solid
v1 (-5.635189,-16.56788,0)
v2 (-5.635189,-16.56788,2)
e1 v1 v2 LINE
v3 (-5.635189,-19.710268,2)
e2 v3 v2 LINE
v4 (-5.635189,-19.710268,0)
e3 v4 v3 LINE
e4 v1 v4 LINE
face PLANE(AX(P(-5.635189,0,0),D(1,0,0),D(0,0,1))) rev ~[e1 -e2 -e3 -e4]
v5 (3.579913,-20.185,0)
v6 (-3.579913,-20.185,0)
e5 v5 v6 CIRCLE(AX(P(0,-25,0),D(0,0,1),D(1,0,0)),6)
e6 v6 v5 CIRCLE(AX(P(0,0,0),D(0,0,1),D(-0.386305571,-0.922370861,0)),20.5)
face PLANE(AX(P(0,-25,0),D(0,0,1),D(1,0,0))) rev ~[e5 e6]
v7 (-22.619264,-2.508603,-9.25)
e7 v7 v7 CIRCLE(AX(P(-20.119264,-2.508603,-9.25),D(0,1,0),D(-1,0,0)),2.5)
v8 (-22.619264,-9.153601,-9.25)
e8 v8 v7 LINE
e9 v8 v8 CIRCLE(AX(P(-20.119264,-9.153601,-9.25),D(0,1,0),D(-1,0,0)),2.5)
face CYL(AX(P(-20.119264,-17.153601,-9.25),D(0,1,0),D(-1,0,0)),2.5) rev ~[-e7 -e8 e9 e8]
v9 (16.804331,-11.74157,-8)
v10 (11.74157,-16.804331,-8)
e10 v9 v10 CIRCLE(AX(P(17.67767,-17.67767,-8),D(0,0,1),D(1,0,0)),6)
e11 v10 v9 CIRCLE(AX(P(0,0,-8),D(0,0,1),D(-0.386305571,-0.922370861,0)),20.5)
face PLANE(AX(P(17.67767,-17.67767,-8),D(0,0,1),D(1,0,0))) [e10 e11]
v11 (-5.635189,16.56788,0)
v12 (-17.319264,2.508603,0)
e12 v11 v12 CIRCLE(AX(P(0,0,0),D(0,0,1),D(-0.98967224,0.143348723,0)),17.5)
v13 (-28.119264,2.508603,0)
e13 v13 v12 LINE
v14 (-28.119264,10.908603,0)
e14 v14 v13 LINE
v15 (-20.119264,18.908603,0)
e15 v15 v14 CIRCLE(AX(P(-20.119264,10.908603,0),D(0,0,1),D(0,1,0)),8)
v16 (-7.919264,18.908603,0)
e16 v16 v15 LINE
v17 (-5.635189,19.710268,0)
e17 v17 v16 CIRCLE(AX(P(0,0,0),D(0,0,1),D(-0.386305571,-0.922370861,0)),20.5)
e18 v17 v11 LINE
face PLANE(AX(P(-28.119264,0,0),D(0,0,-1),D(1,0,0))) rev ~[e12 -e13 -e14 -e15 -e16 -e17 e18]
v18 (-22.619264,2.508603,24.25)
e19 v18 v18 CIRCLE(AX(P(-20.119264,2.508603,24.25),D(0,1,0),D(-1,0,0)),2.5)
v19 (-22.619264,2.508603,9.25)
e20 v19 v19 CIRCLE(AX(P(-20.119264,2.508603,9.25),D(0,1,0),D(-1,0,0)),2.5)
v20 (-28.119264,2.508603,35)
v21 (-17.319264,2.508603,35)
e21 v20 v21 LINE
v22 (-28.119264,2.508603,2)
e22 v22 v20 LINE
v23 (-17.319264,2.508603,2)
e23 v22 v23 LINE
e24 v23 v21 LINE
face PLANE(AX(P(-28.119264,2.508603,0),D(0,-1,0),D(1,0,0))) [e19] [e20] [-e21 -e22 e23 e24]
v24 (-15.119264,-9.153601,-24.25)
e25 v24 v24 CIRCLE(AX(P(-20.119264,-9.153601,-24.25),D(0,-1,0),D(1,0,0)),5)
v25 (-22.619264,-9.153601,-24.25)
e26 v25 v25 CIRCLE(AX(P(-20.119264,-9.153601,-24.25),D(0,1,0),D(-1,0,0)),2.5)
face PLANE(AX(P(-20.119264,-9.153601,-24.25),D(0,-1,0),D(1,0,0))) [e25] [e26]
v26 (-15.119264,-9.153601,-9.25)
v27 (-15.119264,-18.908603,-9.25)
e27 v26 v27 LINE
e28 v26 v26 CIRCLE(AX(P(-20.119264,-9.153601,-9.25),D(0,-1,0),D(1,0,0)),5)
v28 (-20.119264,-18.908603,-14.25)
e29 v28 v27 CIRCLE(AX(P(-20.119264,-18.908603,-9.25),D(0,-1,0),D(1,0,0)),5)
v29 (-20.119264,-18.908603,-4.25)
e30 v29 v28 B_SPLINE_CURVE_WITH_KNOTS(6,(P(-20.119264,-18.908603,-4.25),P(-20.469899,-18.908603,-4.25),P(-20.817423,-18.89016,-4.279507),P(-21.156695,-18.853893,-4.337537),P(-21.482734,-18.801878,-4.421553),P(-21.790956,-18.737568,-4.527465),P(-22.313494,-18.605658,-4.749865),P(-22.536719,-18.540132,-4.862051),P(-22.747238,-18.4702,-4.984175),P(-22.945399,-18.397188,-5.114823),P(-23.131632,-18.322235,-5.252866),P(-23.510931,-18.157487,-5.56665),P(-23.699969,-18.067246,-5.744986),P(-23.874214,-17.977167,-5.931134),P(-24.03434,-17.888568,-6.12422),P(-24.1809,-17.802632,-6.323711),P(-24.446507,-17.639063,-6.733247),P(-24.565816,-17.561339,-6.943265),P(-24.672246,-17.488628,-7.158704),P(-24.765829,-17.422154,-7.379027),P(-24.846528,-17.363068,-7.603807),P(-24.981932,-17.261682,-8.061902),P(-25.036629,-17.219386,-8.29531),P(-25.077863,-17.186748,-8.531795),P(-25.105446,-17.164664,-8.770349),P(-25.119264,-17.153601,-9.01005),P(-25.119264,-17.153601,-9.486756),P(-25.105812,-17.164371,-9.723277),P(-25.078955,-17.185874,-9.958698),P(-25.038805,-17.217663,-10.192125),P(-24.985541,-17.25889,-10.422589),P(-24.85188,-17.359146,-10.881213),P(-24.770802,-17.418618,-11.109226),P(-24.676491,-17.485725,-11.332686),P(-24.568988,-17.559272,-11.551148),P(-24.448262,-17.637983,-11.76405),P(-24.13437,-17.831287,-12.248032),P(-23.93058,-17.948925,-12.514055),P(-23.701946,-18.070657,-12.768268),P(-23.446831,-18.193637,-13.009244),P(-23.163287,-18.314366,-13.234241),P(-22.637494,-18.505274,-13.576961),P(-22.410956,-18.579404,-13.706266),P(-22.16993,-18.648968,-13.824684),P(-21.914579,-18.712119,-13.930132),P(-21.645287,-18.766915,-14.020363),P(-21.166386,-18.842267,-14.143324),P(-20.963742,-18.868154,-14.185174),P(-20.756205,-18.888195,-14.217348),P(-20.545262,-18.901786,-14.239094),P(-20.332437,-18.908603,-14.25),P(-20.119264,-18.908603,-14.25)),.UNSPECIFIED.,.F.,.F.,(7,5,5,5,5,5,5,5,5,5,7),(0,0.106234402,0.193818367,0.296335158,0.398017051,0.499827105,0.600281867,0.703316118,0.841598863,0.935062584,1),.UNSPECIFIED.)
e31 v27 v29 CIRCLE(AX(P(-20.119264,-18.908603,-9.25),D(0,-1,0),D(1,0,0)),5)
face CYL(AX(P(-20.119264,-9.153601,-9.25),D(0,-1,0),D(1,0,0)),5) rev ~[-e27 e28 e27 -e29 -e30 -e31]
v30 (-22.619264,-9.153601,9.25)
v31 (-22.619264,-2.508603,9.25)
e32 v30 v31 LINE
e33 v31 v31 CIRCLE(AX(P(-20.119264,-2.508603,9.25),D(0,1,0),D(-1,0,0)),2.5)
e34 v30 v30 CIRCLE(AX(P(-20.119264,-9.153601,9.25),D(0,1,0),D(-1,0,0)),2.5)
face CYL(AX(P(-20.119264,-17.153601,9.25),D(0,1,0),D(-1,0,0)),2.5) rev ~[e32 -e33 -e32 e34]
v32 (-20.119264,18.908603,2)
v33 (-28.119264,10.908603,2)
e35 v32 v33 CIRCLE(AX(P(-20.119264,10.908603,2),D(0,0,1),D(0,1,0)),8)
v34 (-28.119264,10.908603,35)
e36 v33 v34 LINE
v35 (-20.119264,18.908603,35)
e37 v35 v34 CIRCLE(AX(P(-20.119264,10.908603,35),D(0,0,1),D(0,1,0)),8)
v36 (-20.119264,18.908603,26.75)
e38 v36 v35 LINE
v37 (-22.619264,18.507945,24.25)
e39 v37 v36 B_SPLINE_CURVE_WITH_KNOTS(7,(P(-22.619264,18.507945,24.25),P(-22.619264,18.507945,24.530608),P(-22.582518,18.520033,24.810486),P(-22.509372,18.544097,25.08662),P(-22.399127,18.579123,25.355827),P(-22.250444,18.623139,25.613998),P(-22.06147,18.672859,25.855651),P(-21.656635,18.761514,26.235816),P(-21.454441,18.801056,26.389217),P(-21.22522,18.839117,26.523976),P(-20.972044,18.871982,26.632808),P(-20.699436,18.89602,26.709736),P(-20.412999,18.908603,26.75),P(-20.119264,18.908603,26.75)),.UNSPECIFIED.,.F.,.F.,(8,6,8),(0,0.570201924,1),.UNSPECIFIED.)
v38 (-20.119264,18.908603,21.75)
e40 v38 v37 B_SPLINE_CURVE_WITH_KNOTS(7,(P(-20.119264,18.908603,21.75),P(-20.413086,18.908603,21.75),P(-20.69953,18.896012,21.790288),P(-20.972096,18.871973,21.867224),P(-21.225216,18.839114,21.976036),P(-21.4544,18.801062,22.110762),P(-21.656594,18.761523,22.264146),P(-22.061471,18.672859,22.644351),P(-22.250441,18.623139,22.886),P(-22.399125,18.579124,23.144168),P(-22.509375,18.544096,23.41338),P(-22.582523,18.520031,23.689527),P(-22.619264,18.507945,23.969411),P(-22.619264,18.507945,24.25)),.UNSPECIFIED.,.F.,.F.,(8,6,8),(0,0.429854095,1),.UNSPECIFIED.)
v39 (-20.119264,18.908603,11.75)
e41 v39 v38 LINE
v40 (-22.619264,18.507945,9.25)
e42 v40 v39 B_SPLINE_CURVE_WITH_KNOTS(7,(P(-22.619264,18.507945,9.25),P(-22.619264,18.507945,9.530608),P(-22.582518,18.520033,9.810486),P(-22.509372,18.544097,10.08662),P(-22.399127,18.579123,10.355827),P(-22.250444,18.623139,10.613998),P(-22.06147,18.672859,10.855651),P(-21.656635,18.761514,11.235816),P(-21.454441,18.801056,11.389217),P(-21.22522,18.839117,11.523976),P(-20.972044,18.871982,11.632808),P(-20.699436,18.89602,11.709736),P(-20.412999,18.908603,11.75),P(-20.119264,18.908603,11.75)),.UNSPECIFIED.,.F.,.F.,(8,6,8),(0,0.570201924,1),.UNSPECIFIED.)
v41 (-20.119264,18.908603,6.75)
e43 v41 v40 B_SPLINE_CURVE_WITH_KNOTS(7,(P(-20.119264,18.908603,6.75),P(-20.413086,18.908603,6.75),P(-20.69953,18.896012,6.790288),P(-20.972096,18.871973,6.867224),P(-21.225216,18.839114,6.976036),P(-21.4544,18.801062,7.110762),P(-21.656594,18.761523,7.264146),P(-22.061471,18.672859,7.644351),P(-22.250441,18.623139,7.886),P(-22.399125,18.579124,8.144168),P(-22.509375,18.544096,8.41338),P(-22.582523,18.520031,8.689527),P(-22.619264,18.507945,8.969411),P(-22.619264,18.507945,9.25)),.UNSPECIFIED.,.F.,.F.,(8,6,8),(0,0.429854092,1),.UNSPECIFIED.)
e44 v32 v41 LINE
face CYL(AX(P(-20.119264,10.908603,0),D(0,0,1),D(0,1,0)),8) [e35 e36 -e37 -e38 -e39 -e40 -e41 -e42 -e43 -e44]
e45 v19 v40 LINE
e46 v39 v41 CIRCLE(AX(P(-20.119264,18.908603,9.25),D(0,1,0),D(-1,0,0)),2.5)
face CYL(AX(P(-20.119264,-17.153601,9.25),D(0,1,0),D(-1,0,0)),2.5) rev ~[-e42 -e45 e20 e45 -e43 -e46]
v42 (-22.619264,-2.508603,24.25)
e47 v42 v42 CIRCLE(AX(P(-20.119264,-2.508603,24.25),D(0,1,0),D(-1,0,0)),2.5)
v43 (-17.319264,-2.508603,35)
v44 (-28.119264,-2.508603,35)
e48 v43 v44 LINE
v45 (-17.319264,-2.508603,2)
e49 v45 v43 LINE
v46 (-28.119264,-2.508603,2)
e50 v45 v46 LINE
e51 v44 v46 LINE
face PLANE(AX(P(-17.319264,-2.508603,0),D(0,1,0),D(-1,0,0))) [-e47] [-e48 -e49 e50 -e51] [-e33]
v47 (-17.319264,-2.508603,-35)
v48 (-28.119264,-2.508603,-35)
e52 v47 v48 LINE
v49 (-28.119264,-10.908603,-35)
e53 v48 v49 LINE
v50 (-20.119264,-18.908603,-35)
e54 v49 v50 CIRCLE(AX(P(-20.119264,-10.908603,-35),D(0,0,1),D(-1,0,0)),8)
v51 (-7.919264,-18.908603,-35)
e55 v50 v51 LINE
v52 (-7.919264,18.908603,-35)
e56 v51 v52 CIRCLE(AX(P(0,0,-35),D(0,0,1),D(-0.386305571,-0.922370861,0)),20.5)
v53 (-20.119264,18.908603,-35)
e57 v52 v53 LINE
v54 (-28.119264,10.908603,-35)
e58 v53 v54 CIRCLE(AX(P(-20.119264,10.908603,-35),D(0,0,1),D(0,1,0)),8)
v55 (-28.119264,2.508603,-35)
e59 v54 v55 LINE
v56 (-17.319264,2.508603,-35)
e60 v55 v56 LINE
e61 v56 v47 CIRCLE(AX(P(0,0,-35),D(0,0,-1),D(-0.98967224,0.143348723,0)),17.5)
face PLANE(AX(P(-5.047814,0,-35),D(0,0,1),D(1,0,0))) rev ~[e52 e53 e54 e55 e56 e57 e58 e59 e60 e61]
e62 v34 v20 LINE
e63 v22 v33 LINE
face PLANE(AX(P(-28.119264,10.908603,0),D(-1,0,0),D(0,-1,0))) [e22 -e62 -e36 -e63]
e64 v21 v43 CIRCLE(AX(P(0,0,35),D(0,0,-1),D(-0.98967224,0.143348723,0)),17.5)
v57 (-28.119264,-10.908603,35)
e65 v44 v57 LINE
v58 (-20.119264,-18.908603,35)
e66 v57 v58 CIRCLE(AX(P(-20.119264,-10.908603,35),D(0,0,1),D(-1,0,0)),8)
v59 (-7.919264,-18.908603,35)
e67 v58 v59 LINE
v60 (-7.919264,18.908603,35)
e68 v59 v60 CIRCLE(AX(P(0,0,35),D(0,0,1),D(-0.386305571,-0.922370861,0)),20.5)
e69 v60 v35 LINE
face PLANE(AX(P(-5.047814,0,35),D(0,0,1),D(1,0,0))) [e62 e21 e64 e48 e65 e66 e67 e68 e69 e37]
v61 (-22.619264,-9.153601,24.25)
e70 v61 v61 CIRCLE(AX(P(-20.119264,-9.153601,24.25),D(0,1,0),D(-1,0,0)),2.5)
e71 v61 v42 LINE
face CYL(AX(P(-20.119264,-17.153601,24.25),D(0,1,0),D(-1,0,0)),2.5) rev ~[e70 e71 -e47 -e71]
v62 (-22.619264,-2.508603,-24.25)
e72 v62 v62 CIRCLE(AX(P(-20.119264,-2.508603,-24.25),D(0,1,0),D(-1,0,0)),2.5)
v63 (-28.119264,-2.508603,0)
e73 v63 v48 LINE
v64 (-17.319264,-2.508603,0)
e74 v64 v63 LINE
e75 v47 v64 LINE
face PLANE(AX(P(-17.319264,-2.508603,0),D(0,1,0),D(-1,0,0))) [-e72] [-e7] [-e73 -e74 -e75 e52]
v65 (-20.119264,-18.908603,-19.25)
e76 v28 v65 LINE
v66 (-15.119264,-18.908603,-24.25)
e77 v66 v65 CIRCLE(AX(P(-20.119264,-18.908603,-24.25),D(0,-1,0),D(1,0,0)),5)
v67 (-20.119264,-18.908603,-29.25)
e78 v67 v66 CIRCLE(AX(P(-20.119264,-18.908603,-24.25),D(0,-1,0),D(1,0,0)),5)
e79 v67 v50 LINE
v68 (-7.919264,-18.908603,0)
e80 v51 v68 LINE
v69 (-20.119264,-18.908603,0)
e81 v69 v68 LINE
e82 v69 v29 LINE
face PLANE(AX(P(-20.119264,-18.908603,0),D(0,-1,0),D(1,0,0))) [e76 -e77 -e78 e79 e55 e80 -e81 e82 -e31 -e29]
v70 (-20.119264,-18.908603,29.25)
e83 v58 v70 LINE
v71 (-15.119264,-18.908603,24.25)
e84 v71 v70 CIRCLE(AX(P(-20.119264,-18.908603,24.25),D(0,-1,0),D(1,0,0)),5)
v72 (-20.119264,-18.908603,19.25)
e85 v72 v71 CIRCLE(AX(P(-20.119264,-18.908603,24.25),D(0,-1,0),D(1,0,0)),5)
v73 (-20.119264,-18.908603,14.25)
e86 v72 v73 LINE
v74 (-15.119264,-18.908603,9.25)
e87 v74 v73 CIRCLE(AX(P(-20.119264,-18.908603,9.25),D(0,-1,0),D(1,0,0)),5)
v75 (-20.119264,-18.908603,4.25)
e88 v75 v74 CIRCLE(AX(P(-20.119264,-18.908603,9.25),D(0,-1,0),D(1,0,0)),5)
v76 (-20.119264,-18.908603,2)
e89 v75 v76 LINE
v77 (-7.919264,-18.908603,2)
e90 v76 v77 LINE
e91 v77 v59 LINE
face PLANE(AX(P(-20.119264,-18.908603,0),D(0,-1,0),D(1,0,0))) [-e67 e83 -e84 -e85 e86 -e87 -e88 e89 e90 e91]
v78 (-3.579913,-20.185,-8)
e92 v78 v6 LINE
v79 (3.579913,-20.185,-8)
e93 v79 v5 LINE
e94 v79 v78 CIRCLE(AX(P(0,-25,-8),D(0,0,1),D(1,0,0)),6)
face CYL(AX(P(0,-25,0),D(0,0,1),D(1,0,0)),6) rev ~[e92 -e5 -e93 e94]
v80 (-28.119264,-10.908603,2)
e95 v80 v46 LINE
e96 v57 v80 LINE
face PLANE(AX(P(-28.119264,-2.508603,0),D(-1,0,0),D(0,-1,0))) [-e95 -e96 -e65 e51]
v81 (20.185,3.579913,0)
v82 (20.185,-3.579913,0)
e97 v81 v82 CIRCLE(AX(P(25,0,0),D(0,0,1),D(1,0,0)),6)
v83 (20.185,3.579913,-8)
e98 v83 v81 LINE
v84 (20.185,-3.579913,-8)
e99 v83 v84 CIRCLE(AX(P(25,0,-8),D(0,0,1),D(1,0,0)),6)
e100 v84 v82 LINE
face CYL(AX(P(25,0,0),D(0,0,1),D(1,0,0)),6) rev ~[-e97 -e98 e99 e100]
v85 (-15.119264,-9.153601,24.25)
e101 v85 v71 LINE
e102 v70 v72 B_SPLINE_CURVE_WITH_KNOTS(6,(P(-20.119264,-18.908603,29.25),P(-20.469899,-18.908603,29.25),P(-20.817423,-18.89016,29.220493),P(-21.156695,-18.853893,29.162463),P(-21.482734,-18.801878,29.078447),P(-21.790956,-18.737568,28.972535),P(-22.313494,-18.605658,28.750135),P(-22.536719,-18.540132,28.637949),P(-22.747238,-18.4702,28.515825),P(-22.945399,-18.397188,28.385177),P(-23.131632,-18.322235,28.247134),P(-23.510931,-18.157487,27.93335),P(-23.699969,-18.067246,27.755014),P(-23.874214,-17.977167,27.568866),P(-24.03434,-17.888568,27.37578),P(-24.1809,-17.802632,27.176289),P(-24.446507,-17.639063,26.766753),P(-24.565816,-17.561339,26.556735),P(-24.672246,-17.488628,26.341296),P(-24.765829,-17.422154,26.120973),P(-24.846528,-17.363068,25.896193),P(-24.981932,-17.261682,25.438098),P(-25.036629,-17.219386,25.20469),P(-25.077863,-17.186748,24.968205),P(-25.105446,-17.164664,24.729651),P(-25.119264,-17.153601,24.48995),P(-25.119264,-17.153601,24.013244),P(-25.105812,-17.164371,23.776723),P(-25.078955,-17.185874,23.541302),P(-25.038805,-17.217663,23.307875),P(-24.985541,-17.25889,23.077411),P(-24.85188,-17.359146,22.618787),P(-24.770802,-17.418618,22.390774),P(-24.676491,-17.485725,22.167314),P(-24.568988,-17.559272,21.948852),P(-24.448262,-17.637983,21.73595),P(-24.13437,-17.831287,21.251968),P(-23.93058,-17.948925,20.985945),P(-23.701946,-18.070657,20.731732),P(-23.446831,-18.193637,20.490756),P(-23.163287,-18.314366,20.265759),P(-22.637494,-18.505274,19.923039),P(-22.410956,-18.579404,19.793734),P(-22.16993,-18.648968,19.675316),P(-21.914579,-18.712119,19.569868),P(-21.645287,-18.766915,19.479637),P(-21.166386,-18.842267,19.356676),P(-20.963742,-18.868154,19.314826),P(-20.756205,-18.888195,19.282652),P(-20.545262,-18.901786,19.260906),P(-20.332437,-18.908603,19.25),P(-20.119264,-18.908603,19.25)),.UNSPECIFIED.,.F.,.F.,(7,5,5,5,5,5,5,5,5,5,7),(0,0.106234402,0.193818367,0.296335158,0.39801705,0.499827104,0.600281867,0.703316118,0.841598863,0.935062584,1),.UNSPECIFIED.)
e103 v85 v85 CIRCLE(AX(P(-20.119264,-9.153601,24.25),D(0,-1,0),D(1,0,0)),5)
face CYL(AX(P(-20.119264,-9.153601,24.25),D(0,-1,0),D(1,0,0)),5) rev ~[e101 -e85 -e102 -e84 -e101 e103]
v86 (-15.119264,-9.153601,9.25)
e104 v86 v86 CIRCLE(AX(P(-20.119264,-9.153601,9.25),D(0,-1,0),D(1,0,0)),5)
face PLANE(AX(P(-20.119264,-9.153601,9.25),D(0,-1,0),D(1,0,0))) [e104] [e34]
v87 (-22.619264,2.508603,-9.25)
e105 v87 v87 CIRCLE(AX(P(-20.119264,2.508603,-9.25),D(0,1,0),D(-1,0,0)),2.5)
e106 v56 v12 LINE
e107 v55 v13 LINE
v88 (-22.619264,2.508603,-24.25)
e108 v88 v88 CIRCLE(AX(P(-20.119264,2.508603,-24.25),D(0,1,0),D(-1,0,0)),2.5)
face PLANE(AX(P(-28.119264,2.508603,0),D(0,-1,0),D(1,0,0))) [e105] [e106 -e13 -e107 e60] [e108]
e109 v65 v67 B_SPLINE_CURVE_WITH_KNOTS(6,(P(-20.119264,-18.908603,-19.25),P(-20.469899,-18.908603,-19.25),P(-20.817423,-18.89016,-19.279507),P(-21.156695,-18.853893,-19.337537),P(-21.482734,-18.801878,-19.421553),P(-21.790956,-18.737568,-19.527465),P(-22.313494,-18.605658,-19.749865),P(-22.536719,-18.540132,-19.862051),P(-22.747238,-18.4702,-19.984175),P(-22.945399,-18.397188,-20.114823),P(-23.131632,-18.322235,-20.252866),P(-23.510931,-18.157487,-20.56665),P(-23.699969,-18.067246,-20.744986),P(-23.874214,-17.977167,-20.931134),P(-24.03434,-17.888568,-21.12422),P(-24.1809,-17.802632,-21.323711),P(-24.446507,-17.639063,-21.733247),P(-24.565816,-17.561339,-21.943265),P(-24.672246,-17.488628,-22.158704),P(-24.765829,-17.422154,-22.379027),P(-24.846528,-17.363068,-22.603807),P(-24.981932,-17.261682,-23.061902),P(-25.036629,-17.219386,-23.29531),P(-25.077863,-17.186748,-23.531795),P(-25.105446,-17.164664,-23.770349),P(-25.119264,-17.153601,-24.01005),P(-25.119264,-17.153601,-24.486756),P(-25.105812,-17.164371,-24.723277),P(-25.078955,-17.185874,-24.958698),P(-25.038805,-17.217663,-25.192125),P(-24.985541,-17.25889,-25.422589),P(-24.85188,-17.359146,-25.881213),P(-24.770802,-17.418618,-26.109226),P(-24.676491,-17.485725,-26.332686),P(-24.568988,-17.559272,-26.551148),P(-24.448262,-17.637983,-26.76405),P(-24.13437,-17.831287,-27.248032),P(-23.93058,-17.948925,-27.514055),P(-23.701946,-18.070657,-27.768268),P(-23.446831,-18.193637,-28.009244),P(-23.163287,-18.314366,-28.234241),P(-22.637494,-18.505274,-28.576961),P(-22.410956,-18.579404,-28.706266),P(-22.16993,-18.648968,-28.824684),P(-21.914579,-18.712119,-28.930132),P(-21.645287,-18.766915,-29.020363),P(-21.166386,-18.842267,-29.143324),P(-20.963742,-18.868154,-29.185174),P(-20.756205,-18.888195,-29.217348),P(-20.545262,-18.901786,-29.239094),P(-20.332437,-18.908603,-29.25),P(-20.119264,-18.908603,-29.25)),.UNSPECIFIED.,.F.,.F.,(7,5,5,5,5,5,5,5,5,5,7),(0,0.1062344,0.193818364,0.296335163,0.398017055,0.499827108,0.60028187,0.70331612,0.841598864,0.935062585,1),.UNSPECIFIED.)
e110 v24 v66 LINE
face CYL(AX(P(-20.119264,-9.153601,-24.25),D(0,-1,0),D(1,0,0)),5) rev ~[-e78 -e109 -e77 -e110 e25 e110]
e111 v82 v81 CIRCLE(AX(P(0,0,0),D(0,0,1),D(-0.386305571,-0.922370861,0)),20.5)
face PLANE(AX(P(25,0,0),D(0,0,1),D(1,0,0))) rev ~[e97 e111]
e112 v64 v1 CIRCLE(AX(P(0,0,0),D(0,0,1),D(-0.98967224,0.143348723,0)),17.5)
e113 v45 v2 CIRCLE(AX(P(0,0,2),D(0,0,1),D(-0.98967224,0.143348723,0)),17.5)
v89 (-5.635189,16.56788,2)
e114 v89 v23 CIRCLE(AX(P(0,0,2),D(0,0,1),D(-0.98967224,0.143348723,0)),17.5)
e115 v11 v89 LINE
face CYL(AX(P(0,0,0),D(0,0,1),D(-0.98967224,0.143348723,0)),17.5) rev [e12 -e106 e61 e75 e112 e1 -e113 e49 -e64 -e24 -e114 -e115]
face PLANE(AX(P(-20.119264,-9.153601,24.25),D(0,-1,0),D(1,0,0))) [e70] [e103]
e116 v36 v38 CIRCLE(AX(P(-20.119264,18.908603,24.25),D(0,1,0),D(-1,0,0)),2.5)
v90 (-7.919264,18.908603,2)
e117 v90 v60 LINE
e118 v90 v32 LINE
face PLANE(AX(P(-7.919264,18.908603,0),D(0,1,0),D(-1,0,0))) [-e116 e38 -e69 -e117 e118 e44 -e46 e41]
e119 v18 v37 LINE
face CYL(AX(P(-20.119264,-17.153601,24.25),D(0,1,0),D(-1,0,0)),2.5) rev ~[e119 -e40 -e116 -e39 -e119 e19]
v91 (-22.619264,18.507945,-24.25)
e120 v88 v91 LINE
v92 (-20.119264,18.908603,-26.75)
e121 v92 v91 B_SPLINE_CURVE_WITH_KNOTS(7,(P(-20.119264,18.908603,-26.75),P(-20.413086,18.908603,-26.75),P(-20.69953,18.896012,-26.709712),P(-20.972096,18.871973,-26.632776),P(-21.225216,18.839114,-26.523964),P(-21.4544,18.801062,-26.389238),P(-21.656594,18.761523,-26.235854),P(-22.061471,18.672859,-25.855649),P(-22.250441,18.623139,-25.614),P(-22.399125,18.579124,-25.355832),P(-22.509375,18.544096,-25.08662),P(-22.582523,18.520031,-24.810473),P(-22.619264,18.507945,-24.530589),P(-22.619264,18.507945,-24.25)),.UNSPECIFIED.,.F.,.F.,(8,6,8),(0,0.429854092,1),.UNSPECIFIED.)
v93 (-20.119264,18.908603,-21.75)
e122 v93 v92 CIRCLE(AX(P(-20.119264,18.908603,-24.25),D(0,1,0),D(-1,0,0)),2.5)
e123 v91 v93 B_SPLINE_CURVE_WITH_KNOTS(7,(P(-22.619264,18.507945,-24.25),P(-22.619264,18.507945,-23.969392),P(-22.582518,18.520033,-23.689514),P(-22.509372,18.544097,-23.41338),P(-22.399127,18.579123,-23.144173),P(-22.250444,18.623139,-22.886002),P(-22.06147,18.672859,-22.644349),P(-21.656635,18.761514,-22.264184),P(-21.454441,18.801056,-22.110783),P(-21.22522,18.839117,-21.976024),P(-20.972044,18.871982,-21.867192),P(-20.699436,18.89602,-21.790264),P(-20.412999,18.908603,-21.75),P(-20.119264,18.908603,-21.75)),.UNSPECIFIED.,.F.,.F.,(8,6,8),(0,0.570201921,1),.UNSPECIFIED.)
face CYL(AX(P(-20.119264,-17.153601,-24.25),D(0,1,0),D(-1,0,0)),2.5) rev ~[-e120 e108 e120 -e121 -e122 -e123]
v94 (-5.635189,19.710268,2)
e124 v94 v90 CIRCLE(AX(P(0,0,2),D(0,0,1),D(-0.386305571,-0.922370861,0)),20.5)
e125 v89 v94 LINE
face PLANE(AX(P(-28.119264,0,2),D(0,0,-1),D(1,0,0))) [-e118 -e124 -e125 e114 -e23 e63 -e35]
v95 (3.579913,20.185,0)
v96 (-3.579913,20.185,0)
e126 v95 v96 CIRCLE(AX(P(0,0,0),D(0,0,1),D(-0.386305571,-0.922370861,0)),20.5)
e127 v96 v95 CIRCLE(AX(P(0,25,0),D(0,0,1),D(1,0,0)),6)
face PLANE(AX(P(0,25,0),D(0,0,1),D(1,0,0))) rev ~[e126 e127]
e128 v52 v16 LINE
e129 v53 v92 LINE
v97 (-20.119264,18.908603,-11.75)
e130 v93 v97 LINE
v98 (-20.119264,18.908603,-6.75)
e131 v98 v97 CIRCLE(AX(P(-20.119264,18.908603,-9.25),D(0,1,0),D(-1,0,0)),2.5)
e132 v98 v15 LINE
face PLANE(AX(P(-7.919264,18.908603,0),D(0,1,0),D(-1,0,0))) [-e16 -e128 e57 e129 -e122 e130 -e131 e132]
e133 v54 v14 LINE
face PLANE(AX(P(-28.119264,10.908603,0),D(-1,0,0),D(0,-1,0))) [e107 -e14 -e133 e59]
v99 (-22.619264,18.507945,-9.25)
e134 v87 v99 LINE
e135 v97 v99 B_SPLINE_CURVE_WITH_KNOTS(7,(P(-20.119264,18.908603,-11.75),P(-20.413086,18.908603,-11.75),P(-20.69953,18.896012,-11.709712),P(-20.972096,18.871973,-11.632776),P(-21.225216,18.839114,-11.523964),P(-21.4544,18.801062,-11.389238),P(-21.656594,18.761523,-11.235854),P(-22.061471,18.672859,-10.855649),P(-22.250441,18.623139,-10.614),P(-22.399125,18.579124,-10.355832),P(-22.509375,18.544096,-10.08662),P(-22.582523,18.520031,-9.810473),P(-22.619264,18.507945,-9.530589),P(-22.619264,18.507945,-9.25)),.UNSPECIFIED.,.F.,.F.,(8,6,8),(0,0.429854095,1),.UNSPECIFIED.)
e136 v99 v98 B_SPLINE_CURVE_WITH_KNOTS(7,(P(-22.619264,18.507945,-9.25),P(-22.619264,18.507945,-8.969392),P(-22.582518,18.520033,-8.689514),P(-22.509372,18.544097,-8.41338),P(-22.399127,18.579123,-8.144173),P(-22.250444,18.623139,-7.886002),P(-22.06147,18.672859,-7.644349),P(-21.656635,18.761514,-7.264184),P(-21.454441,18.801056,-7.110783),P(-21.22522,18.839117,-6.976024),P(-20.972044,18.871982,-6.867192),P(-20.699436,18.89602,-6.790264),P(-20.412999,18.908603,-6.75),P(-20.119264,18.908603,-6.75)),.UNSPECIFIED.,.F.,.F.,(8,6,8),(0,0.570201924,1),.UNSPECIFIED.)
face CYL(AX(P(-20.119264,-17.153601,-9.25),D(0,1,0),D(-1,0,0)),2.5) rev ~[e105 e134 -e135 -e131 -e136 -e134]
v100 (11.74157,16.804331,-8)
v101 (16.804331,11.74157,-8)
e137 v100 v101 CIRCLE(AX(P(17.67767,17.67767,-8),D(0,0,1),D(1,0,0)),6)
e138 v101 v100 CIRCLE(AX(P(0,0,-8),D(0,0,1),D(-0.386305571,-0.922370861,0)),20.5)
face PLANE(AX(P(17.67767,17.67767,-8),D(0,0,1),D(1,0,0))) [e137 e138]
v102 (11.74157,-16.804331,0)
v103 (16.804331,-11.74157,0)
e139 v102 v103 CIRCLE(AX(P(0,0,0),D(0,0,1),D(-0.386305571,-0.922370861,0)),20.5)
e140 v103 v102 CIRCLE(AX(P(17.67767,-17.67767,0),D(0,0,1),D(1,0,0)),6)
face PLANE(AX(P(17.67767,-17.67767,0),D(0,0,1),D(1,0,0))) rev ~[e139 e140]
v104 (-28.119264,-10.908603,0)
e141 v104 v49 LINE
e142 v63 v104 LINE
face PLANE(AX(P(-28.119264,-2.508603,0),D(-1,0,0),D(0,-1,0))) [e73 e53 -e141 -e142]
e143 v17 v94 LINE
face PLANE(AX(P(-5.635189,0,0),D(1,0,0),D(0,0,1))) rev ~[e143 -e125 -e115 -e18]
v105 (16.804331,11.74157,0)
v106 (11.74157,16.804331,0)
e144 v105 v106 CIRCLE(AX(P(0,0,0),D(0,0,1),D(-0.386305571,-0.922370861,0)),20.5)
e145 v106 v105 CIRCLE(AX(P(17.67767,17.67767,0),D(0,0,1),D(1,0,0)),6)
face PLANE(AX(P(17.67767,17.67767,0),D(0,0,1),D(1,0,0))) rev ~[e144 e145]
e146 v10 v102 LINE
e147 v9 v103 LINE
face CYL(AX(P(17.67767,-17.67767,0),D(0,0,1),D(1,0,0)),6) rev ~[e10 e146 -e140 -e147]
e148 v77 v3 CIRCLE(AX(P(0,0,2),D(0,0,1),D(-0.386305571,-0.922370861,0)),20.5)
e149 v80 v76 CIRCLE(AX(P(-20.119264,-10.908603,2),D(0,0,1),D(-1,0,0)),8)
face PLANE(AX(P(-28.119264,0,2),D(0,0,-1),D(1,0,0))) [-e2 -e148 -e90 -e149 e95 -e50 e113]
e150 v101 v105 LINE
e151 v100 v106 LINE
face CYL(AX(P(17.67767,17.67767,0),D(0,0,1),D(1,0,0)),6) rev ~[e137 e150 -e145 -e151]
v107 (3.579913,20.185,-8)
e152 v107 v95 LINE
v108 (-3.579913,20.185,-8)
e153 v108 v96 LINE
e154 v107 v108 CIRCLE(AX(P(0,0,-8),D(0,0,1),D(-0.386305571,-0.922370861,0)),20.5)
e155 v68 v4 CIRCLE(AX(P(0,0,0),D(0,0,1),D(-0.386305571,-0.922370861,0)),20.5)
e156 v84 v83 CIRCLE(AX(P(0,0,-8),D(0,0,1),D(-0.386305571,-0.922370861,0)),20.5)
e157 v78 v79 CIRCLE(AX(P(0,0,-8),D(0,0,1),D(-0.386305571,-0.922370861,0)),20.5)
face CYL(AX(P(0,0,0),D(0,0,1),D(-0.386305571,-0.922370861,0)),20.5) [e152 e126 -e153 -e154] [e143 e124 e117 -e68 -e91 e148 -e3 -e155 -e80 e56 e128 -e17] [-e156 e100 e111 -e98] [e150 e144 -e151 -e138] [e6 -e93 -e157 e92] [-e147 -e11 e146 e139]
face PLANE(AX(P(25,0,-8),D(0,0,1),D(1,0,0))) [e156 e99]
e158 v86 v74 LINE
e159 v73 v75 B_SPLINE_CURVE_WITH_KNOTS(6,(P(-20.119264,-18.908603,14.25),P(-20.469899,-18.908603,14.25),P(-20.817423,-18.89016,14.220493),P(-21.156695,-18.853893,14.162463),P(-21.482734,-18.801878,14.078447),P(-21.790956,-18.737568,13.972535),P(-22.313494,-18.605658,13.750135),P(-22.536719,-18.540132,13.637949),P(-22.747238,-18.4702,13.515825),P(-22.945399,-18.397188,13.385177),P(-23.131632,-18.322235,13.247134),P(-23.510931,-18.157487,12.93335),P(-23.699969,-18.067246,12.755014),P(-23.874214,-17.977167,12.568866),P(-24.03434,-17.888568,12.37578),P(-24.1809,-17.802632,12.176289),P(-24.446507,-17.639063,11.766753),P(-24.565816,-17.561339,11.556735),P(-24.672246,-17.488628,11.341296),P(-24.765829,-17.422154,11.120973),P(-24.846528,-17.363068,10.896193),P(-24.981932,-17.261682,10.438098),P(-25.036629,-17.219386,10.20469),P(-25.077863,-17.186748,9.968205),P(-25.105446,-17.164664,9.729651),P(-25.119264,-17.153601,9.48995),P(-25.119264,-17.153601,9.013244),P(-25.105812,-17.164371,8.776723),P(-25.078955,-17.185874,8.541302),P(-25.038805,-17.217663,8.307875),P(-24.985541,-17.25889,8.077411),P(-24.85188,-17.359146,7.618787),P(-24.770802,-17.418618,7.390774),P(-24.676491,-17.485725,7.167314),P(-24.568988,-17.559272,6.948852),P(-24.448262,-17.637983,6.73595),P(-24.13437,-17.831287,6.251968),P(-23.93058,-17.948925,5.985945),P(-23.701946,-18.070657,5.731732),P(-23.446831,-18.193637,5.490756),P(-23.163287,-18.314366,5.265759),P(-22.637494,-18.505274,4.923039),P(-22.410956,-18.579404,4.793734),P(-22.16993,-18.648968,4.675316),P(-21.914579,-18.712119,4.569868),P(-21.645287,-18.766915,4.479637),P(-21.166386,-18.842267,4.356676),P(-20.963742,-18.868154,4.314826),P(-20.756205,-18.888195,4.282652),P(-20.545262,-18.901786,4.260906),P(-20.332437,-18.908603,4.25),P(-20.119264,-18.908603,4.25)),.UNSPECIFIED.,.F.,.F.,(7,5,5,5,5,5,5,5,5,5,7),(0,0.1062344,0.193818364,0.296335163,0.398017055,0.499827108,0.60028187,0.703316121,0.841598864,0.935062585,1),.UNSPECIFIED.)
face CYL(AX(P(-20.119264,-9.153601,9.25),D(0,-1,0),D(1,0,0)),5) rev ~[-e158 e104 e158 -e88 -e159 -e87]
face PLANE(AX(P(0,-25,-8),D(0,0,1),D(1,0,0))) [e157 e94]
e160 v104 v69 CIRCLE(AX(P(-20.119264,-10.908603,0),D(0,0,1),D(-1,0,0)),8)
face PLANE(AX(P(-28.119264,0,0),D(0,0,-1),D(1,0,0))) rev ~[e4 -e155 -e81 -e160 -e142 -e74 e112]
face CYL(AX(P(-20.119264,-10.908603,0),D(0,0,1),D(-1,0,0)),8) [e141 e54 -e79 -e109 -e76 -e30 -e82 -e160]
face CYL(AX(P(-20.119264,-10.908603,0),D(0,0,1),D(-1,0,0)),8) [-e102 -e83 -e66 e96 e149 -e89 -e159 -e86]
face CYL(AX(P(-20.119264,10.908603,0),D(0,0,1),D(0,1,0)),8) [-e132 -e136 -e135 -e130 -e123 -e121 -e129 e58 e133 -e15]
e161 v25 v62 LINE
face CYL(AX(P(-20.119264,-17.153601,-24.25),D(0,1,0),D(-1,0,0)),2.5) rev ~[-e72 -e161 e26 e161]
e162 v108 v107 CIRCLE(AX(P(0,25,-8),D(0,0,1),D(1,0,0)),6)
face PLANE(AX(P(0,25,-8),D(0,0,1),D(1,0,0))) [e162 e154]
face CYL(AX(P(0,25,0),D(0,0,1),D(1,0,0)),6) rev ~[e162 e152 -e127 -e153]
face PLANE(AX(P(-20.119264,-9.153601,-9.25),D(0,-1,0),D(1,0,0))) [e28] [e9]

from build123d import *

# Parameters (mm, degrees)
F1_DEPTH       = 35
F3_D           = 5
F3_START       = 1.7550021
F3_CBORE_D     = 10
F3_CBORE_DEPTH = 8
F4_W           = 22.4840755326
F4_H           = 2
F5_DEPTH       = 25
F6_R           = 6
F7_DEPTH       = 8


with BuildPart() as f1:
    # F0 (on Top) → F1 (new body, symmetric)
    with BuildSketch(Plane.XY):
        with BuildLine():
            Line((-20.1192642082, -18.9086026559), (-7.9192642082, -18.9086026559))
            ThreePointArc((-7.9192642082, -18.9086026559), (20.5, 0), (-7.9192642082, 18.9086026559))
            Line((-7.9192642082, 18.9086026559), (-20.1192642082, 18.9086026559))
            ThreePointArc((-20.1192642082, 18.9086026559), (-25.7761184577, 16.5654569054), (-28.1192642082, 10.9086026559))
            Line((-28.1192642082, 10.9086026559), (-28.1192642082, 2.5086026559))
            Line((-28.1192642082, 2.5086026559), (-17.3192642082, 2.5086026559))
            ThreePointArc((-17.3192642082, 2.5086026559), (17.5, 0), (-17.3192642082, -2.5086026559))
            Line((-17.3192642082, -2.5086026559), (-28.1192642082, -2.5086026559))
            Line((-28.1192642082, -2.5086026559), (-28.1192642082, -10.9086026559))
            ThreePointArc((-28.1192642082, -10.9086026559), (-25.7761184577, -16.5654569054), (-20.1192642082, -18.9086026559))
        make_face()
    extrude(amount=F1_DEPTH, both=True)

    # F3 (through all)
    # its depths count from where the whole tool has entered the part; down to there all is cleared
    with Locations(Plane.XZ.offset(18.9086026559).offset(-F3_START)):
        with Locations((-20.1192642082, -24.25), (-20.1192642082, -9.25), (-20.1192642082, 9.25), (-20.1192642082, 24.25)):
            CounterBoreHole(F3_D / 2, F3_CBORE_D / 2, F3_CBORE_DEPTH)

    # F4 (on Front) → F5 (cut, symmetric)
    with BuildSketch(Plane.XZ):
        with Locations((-16.8772264419, 1)):
            Rectangle(F4_W, F4_H)
    extrude(amount=F5_DEPTH, both=True, mode=Mode.SUBTRACT)

    # F6 (on Top) → F7 (cut)
    with BuildSketch(Plane.XY):
        with Locations((0, -25)):
            Circle(F6_R)
        with Locations((17.6776695297, -17.6776695297)):
            Circle(F6_R)
        with Locations((25, 0)):
            Circle(F6_R)
        with Locations((17.6776695297, 17.6776695297)):
            Circle(F6_R)
        with Locations((0, 25)):
            Circle(F6_R)
    extrude(amount=-F7_DEPTH, mode=Mode.SUBTRACT)


solid = f1.part
